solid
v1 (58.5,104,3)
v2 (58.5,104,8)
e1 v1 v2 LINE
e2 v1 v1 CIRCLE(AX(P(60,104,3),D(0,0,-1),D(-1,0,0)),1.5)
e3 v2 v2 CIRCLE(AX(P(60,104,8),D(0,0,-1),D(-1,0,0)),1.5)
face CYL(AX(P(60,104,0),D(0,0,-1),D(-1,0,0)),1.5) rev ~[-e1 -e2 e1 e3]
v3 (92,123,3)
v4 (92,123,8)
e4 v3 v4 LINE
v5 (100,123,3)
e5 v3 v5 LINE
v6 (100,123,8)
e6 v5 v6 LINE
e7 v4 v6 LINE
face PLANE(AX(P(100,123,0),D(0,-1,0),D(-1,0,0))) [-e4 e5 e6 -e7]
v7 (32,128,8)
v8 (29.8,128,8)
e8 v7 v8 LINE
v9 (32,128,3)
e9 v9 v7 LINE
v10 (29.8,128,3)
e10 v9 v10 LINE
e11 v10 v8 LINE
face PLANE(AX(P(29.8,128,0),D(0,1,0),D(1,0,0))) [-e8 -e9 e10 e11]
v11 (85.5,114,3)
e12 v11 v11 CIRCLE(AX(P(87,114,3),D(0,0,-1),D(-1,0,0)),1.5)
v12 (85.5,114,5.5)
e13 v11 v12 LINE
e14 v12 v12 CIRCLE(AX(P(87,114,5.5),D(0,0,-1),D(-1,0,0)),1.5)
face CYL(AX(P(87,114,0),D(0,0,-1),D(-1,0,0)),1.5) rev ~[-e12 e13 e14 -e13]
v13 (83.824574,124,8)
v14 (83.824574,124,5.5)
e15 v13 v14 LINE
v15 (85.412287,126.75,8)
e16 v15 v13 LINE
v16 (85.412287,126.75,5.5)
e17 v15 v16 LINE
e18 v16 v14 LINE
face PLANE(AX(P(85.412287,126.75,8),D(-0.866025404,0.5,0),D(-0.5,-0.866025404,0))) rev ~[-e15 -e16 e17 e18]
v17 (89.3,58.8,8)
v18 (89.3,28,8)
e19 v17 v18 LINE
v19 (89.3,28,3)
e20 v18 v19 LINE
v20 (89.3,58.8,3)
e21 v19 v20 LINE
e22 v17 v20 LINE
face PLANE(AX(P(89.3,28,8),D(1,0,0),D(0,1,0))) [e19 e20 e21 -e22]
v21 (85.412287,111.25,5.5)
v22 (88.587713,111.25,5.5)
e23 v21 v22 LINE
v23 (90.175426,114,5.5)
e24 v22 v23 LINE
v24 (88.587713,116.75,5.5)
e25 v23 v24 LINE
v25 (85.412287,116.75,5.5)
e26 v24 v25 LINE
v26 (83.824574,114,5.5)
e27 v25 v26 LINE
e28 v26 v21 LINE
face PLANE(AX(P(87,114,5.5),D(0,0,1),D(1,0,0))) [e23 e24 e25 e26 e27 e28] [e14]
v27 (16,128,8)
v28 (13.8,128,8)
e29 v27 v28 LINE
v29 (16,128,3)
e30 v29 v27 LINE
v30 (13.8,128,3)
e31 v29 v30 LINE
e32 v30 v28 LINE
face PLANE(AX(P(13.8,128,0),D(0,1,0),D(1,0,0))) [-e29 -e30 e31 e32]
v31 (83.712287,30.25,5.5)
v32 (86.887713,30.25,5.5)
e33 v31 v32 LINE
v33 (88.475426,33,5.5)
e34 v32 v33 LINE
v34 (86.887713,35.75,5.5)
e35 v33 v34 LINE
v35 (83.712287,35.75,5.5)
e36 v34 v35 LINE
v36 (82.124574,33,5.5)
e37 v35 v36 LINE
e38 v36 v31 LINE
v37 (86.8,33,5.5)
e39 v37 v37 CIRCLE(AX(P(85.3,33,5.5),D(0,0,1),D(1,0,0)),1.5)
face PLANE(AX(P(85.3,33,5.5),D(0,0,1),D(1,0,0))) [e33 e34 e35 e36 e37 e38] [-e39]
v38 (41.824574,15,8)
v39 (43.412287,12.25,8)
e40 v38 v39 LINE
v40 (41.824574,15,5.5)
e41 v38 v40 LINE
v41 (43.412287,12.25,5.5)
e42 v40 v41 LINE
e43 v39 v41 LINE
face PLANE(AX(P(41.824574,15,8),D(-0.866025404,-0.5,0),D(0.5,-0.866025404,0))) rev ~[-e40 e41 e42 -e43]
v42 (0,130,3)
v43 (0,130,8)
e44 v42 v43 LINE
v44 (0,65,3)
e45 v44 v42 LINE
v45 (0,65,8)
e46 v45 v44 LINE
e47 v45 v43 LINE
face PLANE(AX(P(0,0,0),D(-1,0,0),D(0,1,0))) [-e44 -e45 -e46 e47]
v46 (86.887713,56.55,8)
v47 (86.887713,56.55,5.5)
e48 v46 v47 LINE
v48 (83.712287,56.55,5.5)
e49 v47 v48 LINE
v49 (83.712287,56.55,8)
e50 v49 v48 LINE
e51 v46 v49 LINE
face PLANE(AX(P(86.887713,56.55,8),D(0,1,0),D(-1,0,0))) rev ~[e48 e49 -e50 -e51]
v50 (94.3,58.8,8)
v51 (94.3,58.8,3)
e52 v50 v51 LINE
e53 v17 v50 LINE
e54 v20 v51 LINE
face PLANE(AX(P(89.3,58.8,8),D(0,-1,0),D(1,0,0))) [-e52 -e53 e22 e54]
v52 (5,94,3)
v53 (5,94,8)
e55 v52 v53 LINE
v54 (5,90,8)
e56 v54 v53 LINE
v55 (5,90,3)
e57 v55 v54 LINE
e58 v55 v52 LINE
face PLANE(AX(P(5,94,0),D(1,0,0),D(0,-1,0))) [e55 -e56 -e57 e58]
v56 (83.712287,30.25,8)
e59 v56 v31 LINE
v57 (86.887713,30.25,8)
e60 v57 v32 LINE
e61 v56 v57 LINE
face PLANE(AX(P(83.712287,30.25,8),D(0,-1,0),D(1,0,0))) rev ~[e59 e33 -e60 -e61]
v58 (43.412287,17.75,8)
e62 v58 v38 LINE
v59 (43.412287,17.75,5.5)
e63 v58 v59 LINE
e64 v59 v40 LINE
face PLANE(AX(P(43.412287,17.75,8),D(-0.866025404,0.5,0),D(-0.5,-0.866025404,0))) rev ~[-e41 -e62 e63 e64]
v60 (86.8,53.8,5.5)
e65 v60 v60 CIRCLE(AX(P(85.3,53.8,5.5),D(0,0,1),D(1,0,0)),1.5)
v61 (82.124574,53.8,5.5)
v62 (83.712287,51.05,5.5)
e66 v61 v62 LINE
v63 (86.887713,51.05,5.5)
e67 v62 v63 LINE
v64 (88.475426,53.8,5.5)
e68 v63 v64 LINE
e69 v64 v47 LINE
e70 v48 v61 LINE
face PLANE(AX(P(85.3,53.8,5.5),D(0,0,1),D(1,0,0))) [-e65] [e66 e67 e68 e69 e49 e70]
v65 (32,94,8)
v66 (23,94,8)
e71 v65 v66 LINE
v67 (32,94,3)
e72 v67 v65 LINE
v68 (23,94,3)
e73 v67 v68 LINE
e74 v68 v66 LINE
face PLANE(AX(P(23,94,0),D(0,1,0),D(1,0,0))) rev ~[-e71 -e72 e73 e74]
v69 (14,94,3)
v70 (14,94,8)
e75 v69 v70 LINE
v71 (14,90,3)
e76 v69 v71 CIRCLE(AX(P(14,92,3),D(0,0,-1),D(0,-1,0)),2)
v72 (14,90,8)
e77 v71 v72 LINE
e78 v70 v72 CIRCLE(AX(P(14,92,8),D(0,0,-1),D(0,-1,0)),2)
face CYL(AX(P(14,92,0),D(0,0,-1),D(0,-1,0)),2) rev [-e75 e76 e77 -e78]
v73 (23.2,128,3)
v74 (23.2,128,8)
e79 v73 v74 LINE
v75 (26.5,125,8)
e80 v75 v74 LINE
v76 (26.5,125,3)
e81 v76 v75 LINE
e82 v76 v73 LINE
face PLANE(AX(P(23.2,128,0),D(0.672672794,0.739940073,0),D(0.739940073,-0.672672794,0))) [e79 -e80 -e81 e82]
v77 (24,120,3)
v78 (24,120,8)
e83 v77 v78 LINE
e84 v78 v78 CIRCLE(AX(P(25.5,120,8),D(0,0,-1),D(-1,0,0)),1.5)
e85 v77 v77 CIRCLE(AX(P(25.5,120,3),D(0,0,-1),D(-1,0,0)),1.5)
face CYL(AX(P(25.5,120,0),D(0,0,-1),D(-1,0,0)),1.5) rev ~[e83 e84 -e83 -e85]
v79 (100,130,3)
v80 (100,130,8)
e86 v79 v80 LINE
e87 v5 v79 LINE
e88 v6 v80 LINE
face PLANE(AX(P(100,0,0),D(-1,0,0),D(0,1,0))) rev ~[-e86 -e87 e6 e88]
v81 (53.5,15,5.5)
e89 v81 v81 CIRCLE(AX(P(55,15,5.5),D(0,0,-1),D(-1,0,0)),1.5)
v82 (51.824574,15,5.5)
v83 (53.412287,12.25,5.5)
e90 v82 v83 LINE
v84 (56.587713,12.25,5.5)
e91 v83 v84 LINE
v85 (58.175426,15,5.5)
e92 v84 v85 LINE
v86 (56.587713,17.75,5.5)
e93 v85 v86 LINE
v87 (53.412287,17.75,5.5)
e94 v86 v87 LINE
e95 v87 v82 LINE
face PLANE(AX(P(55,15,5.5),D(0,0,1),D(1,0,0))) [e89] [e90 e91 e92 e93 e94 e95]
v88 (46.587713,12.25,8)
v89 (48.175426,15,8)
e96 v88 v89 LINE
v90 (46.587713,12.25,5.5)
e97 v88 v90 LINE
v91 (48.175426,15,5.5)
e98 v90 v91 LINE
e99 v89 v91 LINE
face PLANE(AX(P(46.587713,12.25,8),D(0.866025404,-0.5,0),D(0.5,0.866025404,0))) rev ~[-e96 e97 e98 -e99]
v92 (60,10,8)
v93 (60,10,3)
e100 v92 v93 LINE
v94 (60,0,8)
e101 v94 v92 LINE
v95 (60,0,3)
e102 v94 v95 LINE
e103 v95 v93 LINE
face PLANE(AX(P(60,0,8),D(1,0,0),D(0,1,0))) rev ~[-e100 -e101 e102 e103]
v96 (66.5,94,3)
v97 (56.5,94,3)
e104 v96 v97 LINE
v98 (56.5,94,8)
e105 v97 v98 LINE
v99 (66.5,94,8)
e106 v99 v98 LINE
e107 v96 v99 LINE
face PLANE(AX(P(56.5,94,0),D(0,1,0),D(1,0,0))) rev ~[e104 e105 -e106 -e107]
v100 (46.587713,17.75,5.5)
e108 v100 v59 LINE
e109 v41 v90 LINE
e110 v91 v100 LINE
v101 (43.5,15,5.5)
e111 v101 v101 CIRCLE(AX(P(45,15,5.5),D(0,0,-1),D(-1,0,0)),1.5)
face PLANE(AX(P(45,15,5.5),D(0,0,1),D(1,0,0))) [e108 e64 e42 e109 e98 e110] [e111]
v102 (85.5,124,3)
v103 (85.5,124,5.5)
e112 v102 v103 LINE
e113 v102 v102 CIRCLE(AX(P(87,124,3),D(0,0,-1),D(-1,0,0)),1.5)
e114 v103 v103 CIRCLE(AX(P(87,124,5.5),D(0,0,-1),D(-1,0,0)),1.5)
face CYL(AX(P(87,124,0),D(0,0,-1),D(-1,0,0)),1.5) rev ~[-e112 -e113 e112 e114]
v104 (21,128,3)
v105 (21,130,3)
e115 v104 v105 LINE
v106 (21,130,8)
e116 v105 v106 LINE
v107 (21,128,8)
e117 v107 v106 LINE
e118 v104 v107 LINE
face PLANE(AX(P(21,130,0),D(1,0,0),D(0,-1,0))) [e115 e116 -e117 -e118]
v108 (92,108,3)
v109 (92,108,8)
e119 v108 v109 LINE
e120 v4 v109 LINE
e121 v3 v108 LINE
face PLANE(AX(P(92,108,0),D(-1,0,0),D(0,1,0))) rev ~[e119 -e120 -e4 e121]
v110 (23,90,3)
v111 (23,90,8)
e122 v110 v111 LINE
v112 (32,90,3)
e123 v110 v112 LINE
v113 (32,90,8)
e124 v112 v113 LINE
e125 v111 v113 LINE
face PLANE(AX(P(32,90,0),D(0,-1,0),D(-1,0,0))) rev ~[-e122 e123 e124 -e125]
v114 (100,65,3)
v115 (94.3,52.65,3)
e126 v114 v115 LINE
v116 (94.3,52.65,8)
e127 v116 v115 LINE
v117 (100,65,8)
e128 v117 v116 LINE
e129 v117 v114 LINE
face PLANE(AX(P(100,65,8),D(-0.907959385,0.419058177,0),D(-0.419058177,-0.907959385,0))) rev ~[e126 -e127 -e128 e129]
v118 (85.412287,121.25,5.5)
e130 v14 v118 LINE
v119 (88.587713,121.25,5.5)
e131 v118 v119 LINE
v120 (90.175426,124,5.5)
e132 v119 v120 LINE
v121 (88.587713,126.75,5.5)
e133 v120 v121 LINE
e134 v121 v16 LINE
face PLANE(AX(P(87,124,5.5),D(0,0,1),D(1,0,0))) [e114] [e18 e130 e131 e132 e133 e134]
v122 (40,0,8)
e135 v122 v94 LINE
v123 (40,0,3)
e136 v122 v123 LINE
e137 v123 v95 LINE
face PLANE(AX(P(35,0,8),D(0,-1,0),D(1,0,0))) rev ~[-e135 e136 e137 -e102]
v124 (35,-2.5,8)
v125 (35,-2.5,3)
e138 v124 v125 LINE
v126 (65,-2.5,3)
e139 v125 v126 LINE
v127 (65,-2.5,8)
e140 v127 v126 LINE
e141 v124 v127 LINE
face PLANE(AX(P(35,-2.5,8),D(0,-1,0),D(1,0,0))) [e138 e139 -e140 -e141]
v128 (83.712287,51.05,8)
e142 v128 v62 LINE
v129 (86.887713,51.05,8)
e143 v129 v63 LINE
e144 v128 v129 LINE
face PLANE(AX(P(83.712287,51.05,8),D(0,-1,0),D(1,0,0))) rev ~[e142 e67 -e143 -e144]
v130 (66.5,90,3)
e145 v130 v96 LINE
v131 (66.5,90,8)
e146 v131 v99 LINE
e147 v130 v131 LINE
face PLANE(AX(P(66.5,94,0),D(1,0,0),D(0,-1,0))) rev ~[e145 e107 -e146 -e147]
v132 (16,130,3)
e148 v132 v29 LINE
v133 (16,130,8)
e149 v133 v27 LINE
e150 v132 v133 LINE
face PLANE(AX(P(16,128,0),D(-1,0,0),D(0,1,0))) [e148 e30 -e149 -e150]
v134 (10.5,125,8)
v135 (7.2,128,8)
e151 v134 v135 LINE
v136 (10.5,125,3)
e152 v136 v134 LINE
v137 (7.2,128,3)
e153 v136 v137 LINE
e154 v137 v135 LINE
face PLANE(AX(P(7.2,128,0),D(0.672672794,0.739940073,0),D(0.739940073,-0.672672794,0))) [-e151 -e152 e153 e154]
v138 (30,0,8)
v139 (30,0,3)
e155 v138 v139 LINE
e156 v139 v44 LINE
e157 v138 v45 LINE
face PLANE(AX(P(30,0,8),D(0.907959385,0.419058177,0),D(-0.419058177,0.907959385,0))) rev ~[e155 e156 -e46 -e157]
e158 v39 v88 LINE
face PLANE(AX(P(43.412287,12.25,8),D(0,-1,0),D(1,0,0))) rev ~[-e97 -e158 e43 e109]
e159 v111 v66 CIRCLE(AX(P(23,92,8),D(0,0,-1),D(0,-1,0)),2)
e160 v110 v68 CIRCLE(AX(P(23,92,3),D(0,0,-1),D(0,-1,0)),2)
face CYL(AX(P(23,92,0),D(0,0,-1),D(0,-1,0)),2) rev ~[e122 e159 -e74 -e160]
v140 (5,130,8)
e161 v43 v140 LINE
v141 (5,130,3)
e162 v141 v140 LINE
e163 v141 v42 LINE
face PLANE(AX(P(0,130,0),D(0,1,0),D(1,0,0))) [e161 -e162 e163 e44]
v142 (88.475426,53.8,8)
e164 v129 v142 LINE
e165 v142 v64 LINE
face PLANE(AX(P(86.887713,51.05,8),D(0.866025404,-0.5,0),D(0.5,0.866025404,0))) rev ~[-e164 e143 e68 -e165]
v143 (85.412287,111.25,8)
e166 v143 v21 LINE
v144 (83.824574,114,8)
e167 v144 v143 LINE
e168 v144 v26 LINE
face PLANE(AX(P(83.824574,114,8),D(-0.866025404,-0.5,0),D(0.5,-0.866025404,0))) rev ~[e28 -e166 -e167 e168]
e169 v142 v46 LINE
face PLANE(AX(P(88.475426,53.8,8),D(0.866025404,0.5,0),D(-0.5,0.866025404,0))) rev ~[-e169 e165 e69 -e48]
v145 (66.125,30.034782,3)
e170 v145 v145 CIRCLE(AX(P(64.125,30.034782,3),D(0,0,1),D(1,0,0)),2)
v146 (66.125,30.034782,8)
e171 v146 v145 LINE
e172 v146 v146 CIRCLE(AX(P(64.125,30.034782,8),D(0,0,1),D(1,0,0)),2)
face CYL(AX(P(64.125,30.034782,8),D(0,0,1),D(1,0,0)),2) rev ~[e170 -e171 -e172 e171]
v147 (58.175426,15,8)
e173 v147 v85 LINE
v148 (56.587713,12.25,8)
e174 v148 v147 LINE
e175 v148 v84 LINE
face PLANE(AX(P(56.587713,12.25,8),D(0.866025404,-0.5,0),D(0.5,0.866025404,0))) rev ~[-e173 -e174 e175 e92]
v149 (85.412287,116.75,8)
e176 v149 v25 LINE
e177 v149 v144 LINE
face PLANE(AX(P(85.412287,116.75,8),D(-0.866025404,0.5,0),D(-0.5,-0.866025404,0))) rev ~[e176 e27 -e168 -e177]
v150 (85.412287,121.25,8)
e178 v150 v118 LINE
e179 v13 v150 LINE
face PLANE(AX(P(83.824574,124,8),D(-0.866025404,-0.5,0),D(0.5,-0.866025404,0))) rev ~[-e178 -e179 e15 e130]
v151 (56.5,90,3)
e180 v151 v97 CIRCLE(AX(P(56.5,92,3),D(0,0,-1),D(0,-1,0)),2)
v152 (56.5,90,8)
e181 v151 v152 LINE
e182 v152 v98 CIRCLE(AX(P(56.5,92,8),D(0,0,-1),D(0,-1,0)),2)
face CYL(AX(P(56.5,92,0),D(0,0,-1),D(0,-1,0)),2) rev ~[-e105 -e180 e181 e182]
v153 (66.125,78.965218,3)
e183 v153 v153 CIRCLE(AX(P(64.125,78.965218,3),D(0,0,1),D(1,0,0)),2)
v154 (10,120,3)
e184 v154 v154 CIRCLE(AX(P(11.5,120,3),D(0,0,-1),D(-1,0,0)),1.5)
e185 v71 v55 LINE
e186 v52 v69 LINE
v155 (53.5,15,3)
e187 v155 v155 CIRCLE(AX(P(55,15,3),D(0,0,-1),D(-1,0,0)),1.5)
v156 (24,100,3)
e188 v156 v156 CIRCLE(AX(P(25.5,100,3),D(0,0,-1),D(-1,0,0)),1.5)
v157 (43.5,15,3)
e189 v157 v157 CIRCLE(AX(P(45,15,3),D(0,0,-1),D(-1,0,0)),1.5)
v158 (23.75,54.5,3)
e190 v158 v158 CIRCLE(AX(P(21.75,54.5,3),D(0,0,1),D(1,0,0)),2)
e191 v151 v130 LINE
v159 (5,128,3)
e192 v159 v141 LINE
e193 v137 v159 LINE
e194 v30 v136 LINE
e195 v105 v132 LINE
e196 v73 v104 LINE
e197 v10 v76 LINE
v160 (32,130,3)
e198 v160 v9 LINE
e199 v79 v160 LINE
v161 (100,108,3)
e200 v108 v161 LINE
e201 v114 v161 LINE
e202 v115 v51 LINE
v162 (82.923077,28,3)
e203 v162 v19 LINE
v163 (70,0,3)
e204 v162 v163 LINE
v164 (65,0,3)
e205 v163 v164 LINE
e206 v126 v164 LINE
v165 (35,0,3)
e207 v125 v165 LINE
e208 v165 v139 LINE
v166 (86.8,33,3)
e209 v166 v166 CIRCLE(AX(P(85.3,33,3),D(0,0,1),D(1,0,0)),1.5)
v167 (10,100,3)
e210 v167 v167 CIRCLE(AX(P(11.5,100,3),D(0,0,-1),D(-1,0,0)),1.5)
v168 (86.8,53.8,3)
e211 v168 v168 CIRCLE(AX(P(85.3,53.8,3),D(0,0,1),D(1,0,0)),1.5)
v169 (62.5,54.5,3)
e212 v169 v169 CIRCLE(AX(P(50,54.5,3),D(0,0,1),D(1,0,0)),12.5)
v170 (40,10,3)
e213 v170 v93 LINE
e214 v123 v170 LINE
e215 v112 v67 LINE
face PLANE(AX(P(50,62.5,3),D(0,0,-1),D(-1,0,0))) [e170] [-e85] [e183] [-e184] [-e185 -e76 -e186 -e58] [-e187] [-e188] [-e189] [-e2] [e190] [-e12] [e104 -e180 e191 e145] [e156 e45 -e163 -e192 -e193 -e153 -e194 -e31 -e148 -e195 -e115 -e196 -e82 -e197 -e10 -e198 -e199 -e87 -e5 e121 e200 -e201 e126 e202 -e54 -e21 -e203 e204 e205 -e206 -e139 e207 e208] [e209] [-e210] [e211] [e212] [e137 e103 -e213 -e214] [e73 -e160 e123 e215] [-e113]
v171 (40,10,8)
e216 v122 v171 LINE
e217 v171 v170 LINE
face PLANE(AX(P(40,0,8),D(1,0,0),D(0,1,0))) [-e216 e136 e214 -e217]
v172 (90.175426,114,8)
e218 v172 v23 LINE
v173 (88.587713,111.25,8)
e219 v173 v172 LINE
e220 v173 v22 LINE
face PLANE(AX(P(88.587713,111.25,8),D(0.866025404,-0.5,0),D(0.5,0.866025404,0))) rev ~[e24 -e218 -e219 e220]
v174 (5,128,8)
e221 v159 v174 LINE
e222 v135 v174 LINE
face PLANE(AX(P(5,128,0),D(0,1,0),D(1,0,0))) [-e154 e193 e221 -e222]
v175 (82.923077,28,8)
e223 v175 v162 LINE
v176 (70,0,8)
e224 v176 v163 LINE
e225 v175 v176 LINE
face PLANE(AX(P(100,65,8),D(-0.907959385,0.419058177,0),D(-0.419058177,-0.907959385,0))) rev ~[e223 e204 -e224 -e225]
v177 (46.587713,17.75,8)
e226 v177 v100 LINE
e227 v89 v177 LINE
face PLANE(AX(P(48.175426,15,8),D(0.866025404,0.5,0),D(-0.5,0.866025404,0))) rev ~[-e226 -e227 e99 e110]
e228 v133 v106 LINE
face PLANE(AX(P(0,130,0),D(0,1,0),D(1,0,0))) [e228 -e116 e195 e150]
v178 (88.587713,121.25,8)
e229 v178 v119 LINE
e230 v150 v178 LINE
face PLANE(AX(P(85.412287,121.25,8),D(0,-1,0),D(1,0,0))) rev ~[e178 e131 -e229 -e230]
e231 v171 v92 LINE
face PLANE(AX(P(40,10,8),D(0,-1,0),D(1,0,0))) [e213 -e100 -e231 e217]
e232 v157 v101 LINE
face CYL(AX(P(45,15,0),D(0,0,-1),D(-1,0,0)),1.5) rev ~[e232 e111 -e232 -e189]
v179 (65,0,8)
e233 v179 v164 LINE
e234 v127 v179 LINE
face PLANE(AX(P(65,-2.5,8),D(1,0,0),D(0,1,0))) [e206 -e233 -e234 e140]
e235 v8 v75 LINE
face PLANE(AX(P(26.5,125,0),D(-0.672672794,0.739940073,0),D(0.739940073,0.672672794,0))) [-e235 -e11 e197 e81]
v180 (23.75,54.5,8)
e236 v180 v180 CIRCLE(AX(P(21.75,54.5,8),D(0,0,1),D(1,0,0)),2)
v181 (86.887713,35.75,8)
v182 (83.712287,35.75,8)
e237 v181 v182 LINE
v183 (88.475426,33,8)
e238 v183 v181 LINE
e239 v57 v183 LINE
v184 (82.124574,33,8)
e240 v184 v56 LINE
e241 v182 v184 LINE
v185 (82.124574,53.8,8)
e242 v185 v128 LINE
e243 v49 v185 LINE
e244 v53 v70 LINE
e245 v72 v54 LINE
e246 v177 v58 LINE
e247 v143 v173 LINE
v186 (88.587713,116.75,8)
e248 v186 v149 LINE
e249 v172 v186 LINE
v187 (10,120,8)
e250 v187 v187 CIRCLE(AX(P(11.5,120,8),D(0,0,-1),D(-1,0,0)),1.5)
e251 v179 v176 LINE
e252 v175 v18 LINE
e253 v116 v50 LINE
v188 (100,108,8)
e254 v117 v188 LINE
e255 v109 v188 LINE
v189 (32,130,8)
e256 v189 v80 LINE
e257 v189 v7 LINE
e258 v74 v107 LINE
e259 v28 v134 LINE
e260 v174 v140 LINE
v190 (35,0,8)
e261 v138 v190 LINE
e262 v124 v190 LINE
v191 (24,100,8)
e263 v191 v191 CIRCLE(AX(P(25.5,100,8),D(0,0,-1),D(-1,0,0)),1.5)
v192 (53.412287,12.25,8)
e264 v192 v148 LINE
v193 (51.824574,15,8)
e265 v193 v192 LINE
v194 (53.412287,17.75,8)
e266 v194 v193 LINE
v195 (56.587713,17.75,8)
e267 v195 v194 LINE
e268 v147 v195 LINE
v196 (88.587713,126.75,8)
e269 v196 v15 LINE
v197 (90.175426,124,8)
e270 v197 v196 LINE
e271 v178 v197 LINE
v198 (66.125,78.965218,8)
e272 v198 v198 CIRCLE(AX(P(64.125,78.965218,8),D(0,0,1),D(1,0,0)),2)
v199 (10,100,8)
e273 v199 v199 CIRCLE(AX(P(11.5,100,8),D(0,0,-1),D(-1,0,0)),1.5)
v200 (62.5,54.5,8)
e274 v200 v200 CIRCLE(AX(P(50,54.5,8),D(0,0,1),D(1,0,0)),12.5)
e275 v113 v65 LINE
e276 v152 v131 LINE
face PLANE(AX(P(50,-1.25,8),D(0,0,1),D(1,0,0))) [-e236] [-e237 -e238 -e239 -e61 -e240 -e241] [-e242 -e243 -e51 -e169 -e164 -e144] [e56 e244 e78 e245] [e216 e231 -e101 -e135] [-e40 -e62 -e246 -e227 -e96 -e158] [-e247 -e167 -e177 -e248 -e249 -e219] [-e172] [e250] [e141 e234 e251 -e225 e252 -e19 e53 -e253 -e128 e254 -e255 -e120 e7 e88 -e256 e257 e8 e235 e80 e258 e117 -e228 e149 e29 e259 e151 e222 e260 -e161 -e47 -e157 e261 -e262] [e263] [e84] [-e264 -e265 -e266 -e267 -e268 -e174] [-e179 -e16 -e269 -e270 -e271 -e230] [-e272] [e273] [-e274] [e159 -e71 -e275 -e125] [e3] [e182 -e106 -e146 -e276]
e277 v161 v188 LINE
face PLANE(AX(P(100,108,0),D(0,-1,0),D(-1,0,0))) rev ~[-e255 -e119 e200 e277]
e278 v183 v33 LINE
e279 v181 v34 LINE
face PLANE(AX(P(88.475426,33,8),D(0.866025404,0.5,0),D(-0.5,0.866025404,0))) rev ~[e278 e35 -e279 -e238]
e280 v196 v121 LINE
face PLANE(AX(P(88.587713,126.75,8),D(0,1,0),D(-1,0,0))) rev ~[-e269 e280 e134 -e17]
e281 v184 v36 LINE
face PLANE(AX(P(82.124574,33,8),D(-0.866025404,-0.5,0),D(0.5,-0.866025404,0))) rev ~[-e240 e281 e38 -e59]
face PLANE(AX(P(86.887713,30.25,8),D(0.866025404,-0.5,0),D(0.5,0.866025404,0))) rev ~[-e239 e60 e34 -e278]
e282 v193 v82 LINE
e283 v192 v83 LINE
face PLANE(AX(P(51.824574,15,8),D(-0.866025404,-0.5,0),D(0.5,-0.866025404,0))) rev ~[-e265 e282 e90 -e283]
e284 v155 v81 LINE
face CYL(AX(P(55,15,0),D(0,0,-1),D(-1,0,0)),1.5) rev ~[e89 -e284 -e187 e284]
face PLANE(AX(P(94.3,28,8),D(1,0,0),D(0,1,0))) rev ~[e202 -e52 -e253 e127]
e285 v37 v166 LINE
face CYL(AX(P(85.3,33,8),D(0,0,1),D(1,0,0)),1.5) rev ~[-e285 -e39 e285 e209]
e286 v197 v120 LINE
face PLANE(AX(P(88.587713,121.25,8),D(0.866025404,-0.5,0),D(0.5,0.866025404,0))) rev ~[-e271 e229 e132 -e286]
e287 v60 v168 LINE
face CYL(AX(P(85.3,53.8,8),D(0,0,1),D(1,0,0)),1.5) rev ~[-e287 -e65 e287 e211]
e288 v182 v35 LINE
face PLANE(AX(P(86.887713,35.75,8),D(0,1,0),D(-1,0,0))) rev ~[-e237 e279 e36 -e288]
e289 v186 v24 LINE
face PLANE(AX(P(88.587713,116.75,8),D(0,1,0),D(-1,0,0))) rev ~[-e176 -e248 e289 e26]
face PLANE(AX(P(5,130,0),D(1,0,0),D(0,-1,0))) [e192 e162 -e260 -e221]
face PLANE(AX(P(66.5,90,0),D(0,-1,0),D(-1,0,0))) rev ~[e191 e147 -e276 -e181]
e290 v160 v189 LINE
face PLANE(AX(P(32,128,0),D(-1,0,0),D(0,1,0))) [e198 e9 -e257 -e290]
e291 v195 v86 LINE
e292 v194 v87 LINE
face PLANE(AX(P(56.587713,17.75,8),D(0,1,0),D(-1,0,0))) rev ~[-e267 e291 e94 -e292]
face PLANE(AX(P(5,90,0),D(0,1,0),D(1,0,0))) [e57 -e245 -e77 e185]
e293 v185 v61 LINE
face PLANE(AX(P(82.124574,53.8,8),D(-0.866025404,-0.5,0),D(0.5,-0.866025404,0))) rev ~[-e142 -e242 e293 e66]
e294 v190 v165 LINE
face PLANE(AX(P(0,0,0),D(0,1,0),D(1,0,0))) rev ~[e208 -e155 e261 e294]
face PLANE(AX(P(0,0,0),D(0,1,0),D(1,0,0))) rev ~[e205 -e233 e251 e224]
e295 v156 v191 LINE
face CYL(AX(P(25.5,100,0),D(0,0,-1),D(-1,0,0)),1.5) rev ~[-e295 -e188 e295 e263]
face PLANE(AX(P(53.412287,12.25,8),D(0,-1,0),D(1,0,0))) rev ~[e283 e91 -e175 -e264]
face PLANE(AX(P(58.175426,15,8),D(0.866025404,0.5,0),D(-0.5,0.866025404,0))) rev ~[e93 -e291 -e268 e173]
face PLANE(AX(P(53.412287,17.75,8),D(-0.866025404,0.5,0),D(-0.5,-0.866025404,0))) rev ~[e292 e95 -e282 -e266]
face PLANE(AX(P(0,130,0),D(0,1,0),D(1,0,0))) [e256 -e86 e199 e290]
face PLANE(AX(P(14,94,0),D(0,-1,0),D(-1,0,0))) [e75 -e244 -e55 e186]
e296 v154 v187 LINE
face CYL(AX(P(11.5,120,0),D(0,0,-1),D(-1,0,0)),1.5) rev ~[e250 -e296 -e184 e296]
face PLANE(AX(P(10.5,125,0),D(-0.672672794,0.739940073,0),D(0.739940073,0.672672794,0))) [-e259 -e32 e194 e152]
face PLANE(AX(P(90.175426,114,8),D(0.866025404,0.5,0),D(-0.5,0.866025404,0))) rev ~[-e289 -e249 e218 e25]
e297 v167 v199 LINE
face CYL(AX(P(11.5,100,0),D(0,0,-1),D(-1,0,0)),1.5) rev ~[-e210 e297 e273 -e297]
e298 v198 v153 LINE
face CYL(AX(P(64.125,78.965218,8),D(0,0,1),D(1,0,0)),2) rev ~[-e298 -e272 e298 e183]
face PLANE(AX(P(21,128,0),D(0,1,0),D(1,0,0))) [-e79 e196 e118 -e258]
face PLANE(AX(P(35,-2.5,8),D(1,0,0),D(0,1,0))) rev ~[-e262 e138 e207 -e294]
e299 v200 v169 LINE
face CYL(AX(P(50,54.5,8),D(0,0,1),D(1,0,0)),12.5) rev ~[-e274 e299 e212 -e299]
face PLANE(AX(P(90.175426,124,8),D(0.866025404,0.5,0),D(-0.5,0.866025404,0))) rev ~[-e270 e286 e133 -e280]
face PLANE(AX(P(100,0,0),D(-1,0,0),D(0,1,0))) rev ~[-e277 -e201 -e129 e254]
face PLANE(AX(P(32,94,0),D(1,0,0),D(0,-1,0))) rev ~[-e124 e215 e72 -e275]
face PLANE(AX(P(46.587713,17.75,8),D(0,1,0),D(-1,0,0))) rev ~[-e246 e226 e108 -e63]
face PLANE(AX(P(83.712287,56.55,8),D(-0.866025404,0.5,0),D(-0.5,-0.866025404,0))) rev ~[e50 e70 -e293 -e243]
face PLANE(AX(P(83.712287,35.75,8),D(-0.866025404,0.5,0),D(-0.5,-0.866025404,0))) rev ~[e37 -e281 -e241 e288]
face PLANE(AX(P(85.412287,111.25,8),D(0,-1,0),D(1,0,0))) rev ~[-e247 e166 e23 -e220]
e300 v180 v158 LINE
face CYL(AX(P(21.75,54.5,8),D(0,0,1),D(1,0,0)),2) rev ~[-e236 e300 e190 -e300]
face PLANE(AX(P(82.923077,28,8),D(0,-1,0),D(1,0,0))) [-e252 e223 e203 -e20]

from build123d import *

# Parameters (mm, degrees)
SKETCH_1_W          = 100
SKETCH_1_H          = 130
EXTRUDE_1_DEPTH     = 8
SKETCH_3_W          = 20
SKETCH_3_H          = 10
CUT_EXTRUDE_1_DEPTH = 8
SKETCH_4_R          = 1.5
SKETCH_4_W          = 8
SKETCH_4_H          = 15
CUT_EXTRUDE_2_DEPTH = 9
CUT_EXTRUDE_6_DEPTH = 2.5
SKETCH_10_R         = 12.5
SKETCH_10_W         = 5
SKETCH_10_H         = 30.8
CUT_EXTRUDE_7_DEPTH = 9
EXTRUDE_3_DEPTH     = 8
SKETCH_5_R          = 2
SKETCH_5_R_2        = 1.5
CUT_EXTRUDE_3_DEPTH = 9
SKETCH_11_W         = 30
SKETCH_11_H         = 2.5
EXTRUDE_2_DEPTH     = 8
CUT_EXTRUDE_8_DEPTH = 2.5
SKETCH_15_W         = 100
SKETCH_15_H         = 135
CUT_EXTRUDE_9_DEPTH = 3


with BuildPart() as part:
    # 草图1 → 凸台-拉伸1 (new body)
    with BuildSketch(Plane.XY):
        with Locations((50, 65)):
            Rectangle(SKETCH_1_W, SKETCH_1_H)
    extrude(amount=EXTRUDE_1_DEPTH)

    # 草图3 → 切除-拉伸1 (cut)
    with BuildSketch(Plane.XY.offset(8)):
        with Locations((50, 5)):
            Rectangle(SKETCH_3_W, SKETCH_3_H)
        Polygon((0, 0), (30, 0), (0, 65), align=None)
        Polygon((100, 0), (100, 65), (70, 0), align=None)
    extrude(amount=-CUT_EXTRUDE_1_DEPTH, mode=Mode.SUBTRACT)

    # 草图4 → 切除-拉伸2 (cut, through all)
    with BuildSketch(Plane(origin=(0, 0, 0), x_dir=(-1, 0, 0), z_dir=(0, 0, -1))):
        with Locations((-87, 124)):
            Circle(SKETCH_4_R)
        with Locations((-25.5, 100)):
            Circle(SKETCH_4_R)
        with Locations((-11.5, 100)):
            Circle(SKETCH_4_R)
        with Locations((-11.5, 120)):
            Circle(SKETCH_4_R)
        with Locations((-25.5, 120)):
            Circle(SKETCH_4_R)
        with Locations((-60, 104)):
            Circle(SKETCH_4_R)
        with Locations((-45, 15)):
            Circle(SKETCH_4_R)
        with Locations((-55, 15)):
            Circle(SKETCH_4_R)
        with Locations((-87, 114)):
            Circle(SKETCH_4_R)
        with BuildLine():
            Line((-56.5, 94), (-66.5, 94))
            Line((-66.5, 94), (-66.5, 90))
            Line((-66.5, 90), (-56.5, 90))
            ThreePointArc((-56.5, 90), (-54.5, 92), (-56.5, 94))
        make_face()
        with Locations((-96, 115.5)):
            Rectangle(SKETCH_4_W, SKETCH_4_H)
        with BuildLine():
            Line((-32, 94), (-32, 90))
            Line((-32, 90), (-23, 90))
            ThreePointArc((-23, 90), (-21, 92), (-23, 94))
            Line((-23, 94), (-32, 94))
        make_face()
        with BuildLine():
            Line((-5, 94), (-5, 90))
            Line((-5, 90), (-14, 90))
            ThreePointArc((-14, 90), (-16, 92), (-14, 94))
            Line((-14, 94), (-5, 94))
        make_face()
        Polygon((-10.5, 125), (-13.8, 128), (-16, 128), (-16, 130), (-5, 130), (-5, 128), (-7.2, 128), align=None)
        Polygon((-26.5, 125), (-29.8, 128), (-32, 128), (-32, 130), (-21, 130), (-21, 128), (-23.2, 128), align=None)
    extrude(amount=-CUT_EXTRUDE_2_DEPTH, mode=Mode.SUBTRACT)

    # 草图9 → 切除-拉伸6 (cut)
    with BuildSketch(Plane.XY.offset(8)):
        Polygon((90.175426481, 124), (88.58771324, 126.75), (85.41228676, 126.75), (83.824573519, 124), (85.41228676, 121.25), (88.58771324, 121.25), align=None)
        Polygon((90.175426481, 114), (88.58771324, 116.75), (85.41228676, 116.75), (83.824573519, 114), (85.41228676, 111.25), (88.58771324, 111.25), align=None)
        Polygon((48.175426481, 15), (46.58771324, 17.75), (43.41228676, 17.75), (41.824573519, 15), (43.41228676, 12.25), (46.58771324, 12.25), align=None)
        Polygon((58.175426481, 15), (56.58771324, 17.75), (53.41228676, 17.75), (51.824573519, 15), (53.41228676, 12.25), (56.58771324, 12.25), align=None)
    extrude(amount=-CUT_EXTRUDE_6_DEPTH, mode=Mode.SUBTRACT)

    # 草图10 → 切除-拉伸7 (cut, through all)
    with BuildSketch(Plane.XY.offset(8)):
        with Locations((50, 54.5)):
            Circle(SKETCH_10_R)
        with Locations((91.8, 43.4)):
            Rectangle(SKETCH_10_W, SKETCH_10_H)
    extrude(amount=-CUT_EXTRUDE_7_DEPTH, mode=Mode.SUBTRACT)

    # 草图12 → 凸台-拉伸3 (add)
    with BuildSketch(Plane.XY.offset(8)):
        Polygon((89.3, 41.816666667), (82.923076923, 28), (89.3, 28), align=None)
    extrude(amount=-EXTRUDE_3_DEPTH)

    # 草图5 → 切除-拉伸3 (cut, through all)
    with BuildSketch(Plane.XY.offset(8)):
        with Locations((21.75, 54.5)):
            Circle(SKETCH_5_R)
        with Locations((64.125, 78.965217657)):
            Circle(SKETCH_5_R)
        with Locations((64.125, 30.034782343)):
            Circle(SKETCH_5_R)
        with Locations((85.3, 53.8)):
            Circle(SKETCH_5_R_2)
        with Locations((85.3, 33)):
            Circle(SKETCH_5_R_2)
    extrude(amount=-CUT_EXTRUDE_3_DEPTH, mode=Mode.SUBTRACT)

    # 草图11 → 凸台-拉伸2 (add)
    with BuildSketch(Plane.XY.offset(8)):
        with Locations((50, -1.25)):
            Rectangle(SKETCH_11_W, SKETCH_11_H)
    extrude(amount=-EXTRUDE_2_DEPTH)

    # 草图14 → 切除-拉伸8 (cut)
    with BuildSketch(Plane.XY.offset(8)):
        Polygon((88.475426481, 53.8), (86.88771324, 56.55), (83.71228676, 56.55), (82.124573519, 53.8), (83.71228676, 51.05), (86.88771324, 51.05), align=None)
        Polygon((88.475426481, 33), (86.88771324, 35.75), (83.71228676, 35.75), (82.124573519, 33), (83.71228676, 30.25), (86.88771324, 30.25), align=None)
    extrude(amount=-CUT_EXTRUDE_8_DEPTH, mode=Mode.SUBTRACT)

    # 草图15 → 切除-拉伸9 (cut)
    with BuildSketch(Plane(origin=(0, 0, 0), x_dir=(-1, 0, 0), z_dir=(0, 0, -1))):
        with Locations((-50, 62.5)):
            Rectangle(SKETCH_15_W, SKETCH_15_H)
    extrude(amount=-CUT_EXTRUDE_9_DEPTH, mode=Mode.SUBTRACT)


solid = part.part
